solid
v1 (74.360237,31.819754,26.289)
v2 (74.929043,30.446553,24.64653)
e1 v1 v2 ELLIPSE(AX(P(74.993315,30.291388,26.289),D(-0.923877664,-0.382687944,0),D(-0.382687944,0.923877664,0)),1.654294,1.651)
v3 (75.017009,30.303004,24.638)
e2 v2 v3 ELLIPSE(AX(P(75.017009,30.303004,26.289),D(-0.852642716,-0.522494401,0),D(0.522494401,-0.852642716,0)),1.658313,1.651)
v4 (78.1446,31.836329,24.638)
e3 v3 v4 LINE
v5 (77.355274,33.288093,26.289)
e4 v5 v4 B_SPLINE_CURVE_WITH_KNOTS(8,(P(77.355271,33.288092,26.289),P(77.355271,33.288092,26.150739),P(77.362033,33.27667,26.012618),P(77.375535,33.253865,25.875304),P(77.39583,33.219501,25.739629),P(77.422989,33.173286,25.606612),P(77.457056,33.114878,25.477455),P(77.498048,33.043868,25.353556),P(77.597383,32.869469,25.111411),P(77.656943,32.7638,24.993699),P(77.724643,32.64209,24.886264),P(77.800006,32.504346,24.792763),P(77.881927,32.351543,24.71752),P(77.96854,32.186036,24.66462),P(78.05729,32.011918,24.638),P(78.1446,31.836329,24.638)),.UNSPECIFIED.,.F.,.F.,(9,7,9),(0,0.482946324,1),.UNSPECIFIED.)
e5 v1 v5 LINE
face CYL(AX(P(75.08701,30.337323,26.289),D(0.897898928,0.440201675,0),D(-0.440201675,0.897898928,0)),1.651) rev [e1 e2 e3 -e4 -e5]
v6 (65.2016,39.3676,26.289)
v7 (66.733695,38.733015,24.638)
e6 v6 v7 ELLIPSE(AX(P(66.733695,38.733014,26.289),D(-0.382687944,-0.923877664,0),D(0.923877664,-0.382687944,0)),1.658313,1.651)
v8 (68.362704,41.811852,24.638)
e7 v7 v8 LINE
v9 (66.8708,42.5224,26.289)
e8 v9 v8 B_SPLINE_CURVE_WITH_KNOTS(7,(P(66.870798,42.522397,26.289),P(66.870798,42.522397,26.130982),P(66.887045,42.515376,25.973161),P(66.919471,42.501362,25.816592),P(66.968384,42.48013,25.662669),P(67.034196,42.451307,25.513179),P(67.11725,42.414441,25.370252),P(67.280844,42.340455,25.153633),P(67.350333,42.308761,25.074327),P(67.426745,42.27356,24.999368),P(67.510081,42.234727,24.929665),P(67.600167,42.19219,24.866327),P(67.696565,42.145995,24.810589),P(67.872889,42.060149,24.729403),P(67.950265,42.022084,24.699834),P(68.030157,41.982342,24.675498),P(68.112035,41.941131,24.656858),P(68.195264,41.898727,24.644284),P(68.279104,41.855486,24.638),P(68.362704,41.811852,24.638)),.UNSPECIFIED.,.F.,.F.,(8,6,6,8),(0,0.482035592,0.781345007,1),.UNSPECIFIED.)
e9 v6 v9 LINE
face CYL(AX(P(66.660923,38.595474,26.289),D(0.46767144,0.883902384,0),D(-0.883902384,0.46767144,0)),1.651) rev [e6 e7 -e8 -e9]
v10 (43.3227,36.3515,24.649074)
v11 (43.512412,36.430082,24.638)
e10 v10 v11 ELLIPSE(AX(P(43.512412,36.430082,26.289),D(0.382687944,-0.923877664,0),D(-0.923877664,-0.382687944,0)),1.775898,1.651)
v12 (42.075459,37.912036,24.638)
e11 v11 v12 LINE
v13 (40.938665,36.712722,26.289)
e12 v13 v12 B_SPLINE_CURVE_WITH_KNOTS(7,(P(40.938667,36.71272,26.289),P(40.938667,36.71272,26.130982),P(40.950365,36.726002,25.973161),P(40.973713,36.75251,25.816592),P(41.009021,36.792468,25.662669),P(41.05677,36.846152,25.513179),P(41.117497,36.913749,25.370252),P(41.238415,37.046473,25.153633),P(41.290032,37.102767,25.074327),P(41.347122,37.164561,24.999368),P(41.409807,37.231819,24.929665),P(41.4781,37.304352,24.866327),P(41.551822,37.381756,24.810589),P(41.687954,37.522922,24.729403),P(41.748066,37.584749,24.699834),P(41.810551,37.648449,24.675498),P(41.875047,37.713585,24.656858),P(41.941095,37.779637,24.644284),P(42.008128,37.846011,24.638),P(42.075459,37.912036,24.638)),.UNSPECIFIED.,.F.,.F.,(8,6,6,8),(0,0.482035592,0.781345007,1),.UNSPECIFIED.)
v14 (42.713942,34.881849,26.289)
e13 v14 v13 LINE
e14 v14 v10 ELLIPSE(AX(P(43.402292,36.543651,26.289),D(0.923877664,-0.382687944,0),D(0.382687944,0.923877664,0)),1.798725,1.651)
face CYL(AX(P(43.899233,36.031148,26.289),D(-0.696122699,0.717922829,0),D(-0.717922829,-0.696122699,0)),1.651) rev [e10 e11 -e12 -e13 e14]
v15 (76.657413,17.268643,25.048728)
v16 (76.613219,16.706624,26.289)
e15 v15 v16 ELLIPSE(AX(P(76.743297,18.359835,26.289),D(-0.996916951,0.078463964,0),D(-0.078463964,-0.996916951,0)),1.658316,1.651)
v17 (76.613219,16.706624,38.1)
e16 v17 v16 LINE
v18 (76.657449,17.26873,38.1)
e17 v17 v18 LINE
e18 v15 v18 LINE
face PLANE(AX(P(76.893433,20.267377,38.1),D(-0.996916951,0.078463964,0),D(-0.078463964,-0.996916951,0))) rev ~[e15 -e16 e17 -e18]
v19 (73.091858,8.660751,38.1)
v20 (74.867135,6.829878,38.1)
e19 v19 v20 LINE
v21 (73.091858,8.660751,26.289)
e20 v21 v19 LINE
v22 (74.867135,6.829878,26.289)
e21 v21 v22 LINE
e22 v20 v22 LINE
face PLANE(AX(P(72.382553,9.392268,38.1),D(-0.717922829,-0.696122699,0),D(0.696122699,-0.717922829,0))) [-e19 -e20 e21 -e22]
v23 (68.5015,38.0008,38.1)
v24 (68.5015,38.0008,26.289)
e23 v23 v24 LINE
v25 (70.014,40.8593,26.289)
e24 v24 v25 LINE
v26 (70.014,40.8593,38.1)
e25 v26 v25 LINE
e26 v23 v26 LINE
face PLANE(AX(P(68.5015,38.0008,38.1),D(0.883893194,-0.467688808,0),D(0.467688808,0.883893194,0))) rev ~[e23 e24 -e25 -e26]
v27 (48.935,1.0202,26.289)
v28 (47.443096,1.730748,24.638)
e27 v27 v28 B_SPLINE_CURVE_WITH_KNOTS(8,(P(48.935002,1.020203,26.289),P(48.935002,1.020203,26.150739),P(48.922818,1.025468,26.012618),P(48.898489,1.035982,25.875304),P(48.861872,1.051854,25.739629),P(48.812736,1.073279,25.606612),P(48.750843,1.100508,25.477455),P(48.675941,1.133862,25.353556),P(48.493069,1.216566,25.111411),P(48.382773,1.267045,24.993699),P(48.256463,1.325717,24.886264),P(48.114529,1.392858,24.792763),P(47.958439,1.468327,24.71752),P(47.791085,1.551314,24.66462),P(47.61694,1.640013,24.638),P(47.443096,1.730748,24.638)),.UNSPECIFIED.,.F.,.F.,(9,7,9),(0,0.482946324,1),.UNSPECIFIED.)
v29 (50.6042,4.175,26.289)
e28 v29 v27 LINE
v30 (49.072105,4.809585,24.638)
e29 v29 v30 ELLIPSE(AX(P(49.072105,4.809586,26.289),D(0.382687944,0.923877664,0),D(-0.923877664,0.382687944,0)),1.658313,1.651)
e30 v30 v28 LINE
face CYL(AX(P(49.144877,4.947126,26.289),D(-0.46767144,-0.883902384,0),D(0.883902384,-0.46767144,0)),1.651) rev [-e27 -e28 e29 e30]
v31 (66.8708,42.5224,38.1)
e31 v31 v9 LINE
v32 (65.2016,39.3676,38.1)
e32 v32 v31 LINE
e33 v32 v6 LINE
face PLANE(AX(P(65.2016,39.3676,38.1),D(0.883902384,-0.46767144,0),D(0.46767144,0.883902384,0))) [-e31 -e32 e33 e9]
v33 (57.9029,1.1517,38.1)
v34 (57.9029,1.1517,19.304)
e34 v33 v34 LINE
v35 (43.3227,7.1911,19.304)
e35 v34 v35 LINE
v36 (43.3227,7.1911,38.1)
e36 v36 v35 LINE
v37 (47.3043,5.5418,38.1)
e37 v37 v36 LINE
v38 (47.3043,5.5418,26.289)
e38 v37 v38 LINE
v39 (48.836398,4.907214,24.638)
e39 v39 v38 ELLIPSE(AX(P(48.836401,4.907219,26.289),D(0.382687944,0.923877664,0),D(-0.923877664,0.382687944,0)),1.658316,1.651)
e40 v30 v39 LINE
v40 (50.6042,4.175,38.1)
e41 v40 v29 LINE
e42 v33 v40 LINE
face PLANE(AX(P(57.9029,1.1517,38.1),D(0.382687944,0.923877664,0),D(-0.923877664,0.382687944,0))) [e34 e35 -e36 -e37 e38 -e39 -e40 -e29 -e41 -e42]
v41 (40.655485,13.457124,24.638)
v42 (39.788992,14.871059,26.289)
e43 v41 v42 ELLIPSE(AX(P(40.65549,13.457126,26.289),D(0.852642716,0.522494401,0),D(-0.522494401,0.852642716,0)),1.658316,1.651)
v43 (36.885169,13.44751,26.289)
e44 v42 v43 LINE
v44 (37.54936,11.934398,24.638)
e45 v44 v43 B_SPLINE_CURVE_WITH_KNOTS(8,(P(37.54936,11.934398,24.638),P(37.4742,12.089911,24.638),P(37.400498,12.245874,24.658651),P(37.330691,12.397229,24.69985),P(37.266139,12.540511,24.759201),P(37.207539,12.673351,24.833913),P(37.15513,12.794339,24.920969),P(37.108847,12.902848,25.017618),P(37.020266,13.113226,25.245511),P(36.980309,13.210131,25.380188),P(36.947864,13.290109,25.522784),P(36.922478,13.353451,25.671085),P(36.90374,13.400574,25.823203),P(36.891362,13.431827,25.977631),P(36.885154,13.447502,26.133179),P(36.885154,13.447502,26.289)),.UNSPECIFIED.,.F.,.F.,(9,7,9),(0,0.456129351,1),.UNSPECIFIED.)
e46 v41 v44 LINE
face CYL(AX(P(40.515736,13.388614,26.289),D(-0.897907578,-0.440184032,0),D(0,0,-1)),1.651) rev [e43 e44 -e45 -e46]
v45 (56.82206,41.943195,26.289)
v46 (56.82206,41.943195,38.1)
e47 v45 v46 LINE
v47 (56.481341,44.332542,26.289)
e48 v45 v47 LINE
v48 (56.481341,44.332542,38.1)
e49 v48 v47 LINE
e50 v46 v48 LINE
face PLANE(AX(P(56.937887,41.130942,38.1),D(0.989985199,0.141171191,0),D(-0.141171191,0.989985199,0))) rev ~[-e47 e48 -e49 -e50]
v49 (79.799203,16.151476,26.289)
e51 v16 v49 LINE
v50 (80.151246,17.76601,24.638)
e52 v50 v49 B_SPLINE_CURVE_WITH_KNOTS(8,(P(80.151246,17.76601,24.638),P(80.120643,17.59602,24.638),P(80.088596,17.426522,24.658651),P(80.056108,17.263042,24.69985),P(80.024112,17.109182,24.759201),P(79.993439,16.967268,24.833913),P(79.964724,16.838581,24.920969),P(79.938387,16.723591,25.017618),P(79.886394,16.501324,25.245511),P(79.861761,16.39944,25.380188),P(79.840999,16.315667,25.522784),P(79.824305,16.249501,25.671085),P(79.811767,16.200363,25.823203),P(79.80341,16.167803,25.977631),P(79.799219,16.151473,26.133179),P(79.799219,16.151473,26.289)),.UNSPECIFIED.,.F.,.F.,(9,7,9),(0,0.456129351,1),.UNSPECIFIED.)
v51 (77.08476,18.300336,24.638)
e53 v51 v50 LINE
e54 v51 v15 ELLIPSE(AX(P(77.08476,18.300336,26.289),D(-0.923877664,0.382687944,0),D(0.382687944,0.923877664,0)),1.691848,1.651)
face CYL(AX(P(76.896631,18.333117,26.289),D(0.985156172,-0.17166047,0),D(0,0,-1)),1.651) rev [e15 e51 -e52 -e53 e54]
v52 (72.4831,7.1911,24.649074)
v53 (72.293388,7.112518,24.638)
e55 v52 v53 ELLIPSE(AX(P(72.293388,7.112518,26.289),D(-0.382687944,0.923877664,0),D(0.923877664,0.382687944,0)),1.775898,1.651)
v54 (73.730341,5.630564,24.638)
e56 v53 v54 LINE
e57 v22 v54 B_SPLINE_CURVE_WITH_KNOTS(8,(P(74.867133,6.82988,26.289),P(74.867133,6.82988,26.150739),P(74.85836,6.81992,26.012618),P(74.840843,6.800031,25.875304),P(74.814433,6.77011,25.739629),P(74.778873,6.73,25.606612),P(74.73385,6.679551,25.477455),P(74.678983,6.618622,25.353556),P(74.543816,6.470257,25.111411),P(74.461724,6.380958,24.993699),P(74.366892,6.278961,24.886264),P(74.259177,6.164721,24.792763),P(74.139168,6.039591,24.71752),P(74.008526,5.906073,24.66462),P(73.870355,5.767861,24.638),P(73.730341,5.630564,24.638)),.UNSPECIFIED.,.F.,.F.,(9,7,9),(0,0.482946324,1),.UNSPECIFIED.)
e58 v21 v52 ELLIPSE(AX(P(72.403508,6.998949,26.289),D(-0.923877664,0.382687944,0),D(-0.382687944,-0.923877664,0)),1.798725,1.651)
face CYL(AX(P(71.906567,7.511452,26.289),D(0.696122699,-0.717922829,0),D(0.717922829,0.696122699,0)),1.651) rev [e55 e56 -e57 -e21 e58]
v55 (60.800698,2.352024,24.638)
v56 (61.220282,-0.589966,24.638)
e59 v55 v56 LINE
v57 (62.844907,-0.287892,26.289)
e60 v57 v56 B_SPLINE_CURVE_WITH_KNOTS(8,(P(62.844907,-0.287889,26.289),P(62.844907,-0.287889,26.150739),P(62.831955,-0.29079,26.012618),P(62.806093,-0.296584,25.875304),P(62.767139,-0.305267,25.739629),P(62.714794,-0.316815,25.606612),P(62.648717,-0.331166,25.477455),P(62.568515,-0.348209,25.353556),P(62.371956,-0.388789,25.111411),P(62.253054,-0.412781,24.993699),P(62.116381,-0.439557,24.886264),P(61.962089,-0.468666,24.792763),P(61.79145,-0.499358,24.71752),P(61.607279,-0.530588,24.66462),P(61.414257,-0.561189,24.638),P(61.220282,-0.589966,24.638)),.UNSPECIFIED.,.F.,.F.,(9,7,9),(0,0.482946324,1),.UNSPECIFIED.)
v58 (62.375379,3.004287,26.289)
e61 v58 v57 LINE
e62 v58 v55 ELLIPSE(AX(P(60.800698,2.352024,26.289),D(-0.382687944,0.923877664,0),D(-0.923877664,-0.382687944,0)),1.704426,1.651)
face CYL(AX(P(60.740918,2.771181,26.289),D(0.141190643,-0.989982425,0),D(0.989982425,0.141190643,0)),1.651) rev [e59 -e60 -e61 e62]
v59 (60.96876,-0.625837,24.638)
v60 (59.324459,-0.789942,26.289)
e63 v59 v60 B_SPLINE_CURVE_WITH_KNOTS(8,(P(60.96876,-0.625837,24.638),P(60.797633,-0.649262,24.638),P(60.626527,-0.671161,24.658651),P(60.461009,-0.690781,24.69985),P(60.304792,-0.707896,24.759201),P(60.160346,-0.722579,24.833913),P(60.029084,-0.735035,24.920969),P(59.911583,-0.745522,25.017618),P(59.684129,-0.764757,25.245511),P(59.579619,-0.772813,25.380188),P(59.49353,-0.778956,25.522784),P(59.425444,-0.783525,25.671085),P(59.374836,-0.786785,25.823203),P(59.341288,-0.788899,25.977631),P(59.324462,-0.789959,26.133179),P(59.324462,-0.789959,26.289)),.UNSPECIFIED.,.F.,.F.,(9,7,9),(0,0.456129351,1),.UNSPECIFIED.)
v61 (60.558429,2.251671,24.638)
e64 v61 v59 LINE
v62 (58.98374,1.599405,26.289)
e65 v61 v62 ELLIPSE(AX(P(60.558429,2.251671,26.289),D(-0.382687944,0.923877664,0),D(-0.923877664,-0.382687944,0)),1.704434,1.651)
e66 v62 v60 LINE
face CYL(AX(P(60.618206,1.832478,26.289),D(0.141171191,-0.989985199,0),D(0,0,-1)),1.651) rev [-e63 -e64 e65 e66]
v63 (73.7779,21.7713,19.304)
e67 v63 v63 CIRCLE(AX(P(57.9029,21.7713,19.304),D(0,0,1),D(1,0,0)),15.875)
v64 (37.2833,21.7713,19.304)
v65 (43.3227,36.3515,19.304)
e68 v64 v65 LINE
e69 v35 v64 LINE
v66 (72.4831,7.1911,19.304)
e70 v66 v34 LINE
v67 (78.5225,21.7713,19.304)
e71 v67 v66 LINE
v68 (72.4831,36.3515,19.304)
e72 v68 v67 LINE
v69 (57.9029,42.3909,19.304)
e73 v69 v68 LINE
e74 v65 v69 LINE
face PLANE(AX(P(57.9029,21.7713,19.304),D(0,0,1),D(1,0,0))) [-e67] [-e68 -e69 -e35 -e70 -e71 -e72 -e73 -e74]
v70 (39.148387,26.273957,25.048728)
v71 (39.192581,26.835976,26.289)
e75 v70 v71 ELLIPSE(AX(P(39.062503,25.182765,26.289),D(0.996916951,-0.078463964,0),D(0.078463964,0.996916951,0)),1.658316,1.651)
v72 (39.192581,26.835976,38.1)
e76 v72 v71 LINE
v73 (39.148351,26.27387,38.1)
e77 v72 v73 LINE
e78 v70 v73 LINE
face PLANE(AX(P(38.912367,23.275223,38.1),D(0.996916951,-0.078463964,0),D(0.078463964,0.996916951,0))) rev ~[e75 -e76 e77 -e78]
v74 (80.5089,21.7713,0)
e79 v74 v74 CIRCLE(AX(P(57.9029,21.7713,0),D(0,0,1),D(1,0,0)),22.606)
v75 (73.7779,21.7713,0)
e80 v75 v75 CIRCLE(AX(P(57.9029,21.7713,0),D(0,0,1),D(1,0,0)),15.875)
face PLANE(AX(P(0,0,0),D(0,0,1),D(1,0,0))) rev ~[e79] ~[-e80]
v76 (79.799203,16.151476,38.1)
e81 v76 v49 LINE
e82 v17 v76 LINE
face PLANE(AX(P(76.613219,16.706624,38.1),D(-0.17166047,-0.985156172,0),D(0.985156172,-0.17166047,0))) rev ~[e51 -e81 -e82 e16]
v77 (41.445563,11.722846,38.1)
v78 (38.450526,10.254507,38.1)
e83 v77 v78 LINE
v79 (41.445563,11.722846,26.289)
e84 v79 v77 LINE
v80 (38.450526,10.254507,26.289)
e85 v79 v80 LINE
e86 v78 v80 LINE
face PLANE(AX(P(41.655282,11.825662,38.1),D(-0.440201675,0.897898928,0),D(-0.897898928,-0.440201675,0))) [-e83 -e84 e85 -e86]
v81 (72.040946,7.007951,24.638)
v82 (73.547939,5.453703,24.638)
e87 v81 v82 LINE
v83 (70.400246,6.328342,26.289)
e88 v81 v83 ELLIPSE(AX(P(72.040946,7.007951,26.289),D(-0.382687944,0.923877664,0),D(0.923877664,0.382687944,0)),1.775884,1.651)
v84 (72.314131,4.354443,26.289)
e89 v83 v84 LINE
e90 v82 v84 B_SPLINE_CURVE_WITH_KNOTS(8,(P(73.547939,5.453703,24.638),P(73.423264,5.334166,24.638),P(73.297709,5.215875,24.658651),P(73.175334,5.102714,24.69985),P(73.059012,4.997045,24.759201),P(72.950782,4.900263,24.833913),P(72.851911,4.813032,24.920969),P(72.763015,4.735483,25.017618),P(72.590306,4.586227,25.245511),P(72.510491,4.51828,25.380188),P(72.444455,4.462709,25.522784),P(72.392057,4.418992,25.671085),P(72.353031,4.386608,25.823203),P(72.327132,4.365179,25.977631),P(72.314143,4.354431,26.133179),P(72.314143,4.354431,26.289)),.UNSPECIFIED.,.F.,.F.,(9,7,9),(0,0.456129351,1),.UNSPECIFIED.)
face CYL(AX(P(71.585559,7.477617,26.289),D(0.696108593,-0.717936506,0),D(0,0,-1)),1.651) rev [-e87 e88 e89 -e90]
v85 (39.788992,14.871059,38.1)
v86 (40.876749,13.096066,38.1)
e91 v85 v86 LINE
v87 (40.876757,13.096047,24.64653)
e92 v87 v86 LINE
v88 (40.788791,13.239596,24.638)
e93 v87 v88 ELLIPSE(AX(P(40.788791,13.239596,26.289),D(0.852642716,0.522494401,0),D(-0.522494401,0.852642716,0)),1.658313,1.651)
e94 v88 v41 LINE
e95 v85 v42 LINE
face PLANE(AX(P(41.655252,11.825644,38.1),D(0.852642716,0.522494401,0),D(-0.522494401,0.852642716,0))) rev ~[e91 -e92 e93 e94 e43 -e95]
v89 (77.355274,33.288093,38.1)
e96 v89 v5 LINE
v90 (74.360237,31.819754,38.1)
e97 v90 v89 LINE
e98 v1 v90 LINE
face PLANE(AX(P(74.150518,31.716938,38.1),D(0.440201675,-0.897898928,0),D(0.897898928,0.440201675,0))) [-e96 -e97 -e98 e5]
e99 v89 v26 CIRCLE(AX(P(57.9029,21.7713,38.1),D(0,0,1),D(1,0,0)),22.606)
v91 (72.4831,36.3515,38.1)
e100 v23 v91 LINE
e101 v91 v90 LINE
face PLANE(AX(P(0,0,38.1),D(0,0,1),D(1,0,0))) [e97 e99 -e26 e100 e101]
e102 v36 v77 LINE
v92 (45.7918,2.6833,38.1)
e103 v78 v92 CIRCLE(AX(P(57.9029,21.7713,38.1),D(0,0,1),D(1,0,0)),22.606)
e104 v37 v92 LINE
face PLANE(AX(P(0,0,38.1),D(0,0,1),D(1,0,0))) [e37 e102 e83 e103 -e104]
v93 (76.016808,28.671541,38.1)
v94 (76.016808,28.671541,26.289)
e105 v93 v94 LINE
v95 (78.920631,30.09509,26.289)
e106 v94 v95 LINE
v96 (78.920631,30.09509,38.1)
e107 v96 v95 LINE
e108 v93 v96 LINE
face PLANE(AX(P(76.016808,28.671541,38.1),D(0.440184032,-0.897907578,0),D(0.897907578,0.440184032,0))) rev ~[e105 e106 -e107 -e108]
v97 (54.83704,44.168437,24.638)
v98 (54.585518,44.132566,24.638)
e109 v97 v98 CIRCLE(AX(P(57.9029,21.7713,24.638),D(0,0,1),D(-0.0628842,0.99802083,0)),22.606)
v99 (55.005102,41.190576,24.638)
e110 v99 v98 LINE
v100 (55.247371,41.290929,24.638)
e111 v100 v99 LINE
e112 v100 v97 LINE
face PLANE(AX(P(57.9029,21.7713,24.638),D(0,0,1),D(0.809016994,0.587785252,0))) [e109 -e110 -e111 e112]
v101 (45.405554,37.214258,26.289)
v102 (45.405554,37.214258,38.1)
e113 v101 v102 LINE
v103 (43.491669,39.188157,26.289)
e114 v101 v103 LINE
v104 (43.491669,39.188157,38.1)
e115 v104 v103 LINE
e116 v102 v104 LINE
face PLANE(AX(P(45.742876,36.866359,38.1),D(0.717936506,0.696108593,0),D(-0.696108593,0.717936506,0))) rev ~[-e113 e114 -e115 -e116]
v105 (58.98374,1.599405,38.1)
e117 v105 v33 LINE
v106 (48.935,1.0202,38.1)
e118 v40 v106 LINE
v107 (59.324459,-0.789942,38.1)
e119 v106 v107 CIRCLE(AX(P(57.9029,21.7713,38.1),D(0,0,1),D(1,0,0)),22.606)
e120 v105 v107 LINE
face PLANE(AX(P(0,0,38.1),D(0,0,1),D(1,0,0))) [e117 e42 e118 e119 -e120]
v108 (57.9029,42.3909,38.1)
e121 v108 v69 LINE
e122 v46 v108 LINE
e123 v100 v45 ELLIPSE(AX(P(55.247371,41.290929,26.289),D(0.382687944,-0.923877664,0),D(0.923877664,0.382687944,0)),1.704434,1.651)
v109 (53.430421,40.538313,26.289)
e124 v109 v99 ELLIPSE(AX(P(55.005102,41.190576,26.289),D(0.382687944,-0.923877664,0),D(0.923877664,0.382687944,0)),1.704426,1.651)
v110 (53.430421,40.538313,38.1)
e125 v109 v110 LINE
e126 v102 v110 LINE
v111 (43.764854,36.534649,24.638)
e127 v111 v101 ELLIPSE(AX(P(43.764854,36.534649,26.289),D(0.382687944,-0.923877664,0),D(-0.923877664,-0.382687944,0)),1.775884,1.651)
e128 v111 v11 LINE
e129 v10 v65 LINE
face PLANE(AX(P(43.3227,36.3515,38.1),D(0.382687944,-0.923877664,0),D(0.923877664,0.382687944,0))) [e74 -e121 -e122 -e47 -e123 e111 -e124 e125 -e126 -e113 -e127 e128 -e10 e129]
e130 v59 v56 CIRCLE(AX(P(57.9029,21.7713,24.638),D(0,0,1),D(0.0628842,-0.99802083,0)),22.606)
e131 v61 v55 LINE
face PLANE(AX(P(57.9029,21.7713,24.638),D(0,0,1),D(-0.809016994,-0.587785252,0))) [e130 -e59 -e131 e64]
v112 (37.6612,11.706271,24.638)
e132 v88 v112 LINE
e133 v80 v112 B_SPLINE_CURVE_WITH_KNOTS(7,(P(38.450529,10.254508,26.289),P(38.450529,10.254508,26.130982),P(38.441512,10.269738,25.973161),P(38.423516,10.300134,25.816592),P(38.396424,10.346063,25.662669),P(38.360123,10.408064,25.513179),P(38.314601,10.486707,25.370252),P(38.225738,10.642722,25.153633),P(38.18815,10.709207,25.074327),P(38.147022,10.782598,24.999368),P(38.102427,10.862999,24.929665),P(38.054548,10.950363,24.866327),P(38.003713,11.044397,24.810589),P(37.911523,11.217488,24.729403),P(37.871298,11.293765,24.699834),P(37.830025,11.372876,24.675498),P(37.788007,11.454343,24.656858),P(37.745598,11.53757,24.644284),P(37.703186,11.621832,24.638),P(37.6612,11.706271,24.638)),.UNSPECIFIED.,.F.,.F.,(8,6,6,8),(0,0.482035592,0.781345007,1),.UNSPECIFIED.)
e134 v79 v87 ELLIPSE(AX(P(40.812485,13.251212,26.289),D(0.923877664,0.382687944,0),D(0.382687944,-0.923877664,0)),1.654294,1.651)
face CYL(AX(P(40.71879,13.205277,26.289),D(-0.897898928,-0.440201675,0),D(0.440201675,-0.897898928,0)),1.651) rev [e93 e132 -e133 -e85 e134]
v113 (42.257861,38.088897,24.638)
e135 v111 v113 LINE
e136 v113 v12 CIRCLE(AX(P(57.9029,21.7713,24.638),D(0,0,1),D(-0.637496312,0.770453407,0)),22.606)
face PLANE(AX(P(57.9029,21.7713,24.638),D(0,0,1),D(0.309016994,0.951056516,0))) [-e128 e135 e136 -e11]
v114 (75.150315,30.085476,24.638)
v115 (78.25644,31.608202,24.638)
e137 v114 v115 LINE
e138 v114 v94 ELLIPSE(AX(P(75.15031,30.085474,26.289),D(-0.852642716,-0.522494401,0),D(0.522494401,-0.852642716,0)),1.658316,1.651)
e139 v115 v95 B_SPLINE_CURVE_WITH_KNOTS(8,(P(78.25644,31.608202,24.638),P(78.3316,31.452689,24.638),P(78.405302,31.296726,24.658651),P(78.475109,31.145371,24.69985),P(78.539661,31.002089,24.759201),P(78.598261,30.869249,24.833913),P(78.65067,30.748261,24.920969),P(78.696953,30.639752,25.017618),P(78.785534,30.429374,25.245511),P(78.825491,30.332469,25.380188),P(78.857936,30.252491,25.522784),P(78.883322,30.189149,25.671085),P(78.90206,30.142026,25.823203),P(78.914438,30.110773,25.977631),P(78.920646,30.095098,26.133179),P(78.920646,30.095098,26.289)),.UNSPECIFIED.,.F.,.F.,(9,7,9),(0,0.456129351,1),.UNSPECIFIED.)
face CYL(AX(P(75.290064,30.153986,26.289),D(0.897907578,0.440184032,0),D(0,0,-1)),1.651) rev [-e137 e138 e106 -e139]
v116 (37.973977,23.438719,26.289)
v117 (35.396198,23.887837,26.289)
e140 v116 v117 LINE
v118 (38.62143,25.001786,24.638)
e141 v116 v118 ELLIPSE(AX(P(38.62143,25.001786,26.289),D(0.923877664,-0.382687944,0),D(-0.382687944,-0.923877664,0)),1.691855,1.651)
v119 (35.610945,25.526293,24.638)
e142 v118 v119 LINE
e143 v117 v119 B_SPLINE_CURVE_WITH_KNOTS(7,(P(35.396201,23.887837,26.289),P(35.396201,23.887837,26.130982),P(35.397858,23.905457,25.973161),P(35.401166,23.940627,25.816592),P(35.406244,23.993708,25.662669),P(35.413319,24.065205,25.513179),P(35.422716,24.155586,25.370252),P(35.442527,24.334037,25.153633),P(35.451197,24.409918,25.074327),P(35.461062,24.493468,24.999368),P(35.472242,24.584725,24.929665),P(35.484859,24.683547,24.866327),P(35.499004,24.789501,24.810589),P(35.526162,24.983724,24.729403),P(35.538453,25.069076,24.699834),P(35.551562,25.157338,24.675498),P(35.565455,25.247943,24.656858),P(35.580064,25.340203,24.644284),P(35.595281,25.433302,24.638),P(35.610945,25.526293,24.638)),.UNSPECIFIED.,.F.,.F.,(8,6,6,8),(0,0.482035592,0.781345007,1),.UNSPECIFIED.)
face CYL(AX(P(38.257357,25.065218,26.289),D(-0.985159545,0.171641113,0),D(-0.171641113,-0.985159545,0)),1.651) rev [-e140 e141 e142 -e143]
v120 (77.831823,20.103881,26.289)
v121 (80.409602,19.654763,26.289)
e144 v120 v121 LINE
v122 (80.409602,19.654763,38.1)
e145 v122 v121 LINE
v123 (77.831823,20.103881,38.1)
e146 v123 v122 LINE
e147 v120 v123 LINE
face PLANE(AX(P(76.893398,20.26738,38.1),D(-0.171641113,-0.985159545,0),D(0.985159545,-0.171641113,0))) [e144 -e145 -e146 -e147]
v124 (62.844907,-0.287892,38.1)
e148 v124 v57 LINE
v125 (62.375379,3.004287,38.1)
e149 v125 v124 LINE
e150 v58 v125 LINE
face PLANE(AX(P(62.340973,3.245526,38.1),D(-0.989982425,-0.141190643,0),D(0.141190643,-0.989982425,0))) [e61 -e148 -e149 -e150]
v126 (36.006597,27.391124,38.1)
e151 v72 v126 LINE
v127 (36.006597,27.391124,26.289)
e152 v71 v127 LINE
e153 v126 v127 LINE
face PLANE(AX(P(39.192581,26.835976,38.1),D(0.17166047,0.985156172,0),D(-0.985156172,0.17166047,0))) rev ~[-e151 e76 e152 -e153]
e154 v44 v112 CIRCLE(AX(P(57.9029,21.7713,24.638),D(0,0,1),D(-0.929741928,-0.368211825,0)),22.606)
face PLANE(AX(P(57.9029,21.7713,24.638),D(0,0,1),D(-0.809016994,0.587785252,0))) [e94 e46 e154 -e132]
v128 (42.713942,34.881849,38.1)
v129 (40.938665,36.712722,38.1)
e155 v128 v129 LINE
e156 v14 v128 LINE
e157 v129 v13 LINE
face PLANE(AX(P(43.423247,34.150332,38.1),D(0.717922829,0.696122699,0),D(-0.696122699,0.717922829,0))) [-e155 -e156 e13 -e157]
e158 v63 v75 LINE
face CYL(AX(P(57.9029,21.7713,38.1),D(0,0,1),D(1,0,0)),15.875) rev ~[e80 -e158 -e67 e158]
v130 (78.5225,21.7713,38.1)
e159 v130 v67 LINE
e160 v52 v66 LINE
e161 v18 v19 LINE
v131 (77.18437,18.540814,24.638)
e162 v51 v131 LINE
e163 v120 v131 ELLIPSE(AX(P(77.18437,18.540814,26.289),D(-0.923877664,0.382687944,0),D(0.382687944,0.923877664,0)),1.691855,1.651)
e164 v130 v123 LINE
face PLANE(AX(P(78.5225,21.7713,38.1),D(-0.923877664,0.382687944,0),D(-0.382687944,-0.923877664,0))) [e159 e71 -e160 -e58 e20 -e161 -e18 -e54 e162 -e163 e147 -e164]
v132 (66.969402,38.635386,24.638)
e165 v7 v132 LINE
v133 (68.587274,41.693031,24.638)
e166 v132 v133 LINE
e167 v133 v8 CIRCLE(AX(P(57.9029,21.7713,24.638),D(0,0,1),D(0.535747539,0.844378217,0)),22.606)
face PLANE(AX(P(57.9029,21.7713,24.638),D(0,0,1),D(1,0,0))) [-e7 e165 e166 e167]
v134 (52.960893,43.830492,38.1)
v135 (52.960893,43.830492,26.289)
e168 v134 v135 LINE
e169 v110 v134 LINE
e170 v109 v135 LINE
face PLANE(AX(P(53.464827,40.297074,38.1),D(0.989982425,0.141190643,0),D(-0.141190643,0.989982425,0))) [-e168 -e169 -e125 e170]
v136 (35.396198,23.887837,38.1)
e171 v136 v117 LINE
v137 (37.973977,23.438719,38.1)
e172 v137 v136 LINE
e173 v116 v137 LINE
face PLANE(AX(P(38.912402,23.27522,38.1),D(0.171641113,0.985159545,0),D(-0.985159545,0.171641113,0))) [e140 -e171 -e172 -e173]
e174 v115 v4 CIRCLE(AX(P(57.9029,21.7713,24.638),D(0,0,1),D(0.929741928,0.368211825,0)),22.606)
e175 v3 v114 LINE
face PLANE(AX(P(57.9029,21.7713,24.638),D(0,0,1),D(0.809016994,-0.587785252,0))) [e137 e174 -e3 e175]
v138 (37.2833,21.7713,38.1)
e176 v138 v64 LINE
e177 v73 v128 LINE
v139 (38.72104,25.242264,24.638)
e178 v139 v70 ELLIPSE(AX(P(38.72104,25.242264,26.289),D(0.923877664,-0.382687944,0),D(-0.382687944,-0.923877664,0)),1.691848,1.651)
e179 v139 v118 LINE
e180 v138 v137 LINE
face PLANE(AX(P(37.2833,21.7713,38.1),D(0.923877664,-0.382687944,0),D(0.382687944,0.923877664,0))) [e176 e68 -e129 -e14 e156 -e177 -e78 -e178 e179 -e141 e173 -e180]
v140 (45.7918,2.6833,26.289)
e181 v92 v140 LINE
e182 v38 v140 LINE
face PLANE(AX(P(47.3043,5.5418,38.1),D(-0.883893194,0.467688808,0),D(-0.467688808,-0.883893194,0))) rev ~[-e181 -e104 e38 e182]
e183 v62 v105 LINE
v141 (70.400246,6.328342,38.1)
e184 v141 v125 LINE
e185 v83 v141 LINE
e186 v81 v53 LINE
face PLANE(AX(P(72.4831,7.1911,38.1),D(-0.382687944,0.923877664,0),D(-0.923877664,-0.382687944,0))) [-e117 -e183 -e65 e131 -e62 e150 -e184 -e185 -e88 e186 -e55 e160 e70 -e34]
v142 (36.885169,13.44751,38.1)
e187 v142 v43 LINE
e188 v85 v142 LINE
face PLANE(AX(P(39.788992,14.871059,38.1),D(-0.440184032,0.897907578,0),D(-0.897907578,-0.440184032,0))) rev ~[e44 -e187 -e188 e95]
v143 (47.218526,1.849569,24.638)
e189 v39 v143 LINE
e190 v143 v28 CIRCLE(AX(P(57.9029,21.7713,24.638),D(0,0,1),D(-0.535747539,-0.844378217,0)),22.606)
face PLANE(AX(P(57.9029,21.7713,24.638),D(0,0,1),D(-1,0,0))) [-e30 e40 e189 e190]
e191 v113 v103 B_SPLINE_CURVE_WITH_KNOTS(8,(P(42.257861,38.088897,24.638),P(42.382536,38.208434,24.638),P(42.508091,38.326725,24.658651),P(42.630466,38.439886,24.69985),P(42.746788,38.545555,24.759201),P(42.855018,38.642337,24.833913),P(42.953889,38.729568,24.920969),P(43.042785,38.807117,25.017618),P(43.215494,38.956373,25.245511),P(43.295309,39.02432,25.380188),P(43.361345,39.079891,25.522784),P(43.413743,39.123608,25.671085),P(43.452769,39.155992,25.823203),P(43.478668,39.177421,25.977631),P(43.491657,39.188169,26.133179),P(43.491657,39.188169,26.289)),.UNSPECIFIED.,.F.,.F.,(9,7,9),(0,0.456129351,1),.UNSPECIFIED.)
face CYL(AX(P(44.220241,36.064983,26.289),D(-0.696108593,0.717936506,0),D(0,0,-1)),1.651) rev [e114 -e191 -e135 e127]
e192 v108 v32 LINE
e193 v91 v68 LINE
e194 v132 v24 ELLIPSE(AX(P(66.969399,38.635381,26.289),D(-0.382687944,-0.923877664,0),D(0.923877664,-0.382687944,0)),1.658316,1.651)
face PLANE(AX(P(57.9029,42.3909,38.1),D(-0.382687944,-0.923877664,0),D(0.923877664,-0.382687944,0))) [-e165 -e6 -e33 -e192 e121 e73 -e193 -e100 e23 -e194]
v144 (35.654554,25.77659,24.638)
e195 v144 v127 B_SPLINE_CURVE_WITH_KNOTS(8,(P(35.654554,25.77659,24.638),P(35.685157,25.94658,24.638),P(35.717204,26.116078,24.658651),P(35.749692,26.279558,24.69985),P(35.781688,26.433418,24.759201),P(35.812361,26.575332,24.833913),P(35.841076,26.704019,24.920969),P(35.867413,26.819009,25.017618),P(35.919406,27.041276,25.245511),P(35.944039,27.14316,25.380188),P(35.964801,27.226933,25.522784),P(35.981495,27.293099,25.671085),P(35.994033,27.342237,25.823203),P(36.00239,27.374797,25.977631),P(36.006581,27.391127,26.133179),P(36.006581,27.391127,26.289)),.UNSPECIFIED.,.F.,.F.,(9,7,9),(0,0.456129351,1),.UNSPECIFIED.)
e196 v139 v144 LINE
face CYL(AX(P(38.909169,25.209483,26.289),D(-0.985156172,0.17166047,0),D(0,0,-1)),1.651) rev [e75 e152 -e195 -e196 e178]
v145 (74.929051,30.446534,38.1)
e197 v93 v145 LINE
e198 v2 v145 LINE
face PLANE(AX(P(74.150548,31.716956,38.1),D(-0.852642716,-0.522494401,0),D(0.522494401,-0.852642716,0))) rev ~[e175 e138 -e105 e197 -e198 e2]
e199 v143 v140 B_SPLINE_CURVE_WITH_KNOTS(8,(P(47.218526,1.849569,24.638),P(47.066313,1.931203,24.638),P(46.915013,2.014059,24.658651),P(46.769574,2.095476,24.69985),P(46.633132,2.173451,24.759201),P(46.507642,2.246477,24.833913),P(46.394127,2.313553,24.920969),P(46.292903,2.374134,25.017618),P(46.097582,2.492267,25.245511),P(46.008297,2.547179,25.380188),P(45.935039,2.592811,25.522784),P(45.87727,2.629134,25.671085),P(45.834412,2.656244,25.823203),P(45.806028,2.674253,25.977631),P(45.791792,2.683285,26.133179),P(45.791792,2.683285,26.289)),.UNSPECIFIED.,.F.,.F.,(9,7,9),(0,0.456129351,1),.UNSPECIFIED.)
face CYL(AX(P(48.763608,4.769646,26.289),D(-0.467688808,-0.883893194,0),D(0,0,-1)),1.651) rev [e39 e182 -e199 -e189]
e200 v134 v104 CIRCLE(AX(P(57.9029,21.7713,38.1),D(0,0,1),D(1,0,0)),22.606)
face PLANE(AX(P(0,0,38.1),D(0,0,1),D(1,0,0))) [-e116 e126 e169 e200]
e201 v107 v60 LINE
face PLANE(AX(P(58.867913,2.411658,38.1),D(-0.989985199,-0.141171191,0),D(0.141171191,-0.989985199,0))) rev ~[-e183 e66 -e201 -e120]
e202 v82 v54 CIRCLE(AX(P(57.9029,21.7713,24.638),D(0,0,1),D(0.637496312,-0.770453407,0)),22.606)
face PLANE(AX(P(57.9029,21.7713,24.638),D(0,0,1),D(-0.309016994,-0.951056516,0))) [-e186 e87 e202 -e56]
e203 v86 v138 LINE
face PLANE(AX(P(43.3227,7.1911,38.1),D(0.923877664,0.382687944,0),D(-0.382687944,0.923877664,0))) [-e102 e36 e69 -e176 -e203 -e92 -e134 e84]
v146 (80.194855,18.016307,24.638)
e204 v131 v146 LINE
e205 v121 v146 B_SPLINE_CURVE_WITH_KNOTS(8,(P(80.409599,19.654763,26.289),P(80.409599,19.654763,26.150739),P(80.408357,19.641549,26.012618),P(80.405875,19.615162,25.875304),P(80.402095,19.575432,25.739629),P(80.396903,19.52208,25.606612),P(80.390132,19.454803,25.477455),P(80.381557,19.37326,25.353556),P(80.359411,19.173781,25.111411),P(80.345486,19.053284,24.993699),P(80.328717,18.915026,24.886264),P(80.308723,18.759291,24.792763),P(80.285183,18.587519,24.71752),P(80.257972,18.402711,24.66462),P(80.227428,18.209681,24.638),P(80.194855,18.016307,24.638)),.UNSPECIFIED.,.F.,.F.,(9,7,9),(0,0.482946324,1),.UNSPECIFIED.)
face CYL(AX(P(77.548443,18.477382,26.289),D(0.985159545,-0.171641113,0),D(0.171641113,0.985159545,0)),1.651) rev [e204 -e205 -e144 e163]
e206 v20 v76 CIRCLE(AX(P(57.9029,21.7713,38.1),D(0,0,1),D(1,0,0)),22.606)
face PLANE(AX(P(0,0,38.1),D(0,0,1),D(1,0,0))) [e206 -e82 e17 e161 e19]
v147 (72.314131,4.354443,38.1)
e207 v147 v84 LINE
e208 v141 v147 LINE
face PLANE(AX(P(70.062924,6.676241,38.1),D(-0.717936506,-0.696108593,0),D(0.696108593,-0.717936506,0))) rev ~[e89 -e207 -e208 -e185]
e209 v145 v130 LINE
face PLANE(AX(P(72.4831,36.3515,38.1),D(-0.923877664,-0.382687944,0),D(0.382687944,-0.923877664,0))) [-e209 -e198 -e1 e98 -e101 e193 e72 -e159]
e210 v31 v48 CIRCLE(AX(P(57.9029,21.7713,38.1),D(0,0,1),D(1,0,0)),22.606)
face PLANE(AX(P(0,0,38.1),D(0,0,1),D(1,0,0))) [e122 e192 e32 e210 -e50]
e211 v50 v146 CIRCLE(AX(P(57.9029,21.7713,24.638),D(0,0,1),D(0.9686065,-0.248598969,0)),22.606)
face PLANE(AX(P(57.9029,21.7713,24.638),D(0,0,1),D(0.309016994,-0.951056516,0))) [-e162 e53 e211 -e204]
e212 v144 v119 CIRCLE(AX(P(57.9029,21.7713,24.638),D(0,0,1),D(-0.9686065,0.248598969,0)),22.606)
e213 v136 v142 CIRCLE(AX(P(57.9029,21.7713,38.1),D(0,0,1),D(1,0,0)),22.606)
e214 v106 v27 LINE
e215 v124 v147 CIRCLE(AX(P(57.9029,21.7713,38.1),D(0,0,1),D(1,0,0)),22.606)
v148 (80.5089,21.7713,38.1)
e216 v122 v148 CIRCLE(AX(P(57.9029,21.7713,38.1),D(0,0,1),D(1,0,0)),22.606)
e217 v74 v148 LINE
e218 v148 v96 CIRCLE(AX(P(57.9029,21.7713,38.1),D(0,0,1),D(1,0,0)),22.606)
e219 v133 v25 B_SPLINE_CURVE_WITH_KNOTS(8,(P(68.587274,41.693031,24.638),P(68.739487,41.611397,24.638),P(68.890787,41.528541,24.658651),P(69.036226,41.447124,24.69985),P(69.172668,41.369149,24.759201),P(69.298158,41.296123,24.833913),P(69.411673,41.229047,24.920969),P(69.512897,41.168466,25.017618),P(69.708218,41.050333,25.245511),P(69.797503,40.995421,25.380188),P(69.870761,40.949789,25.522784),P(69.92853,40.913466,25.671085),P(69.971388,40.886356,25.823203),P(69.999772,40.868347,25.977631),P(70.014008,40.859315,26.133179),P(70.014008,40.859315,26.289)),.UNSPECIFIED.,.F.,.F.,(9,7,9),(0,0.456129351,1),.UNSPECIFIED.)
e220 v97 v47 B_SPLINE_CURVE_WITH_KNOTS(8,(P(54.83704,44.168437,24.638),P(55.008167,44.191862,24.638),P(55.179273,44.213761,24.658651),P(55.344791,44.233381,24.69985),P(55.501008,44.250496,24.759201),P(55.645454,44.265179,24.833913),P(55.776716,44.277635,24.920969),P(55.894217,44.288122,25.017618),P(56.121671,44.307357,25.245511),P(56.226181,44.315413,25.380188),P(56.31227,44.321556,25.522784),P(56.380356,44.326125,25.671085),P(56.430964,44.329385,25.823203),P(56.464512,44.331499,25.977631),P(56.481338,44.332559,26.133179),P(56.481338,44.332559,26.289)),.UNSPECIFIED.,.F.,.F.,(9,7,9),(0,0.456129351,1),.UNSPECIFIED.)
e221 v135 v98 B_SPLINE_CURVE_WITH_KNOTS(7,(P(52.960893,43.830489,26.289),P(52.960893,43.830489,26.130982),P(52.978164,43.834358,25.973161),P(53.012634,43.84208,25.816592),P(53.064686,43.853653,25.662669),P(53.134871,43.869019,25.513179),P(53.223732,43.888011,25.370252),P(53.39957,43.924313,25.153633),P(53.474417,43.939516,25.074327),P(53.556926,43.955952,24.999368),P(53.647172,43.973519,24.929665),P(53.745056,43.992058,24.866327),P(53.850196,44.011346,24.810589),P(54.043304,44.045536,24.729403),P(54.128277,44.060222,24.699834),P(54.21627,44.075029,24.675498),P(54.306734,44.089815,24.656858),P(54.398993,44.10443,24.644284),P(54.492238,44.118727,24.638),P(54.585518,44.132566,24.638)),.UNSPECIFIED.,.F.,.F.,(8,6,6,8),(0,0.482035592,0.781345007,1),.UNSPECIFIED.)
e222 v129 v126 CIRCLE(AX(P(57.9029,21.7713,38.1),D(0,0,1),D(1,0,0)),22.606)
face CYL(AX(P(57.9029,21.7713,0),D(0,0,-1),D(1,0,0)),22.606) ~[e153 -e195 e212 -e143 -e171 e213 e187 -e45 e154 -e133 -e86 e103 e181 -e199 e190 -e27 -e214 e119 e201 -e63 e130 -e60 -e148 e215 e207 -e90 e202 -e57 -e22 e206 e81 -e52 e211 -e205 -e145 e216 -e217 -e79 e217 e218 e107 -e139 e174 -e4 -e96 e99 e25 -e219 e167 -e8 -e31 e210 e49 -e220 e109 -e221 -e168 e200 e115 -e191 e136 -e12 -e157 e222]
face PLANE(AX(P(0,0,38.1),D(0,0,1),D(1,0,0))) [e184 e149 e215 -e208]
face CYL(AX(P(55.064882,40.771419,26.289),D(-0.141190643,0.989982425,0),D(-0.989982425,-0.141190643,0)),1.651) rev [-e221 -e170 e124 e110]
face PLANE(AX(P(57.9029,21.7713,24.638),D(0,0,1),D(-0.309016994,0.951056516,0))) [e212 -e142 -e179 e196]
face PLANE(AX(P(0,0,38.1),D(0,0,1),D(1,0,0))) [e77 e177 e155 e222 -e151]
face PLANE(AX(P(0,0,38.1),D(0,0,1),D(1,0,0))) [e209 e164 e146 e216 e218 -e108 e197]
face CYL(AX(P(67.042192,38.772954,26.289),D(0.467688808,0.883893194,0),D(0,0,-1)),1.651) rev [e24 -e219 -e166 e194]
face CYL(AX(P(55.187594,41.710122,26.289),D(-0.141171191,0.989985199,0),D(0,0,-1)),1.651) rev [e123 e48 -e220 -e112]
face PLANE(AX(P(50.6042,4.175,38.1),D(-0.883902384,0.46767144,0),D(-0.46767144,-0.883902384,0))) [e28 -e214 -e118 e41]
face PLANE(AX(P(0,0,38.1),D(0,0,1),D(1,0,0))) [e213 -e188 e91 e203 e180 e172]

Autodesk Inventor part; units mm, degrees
ref_plane "YZ Plane" through (0, 0, 0) normal (1, 0, 0) x (0, 1, 0)
ref_plane "XZ Plane" through (0, 0, 0) normal (0, 1, 0) x (-1, 0, 0)
ref_plane "XY Plane" through (0, 0, 0) normal (0, 0, 1) x (1, 0, 0)
sketch "Sketch1" plane through (0, 0, 0) normal (0, 0, 1) x (1, 0, 0)
  circle A0 centre (57.9029, 21.7713) radius 22.606
  dimension "d0" = 45.212
extrude "Extrusion1" add sketch "Sketch1" along normal blind 38.1
sketch "Sketch2" plane through (57.9029, 21.7713, 38.1) normal (0, 0, 1) x (1, 0, 0)
  circle A0 centre (0, 0) radius 22.606 projected
  circle A1 centre (0, 0) radius 15.875
  dimension "d3" = 31.75
extrude "Extrusion2" cut sketch "Sketch2" against normal blind 38.1 contours A1
sketch "Sketch3" plane through (57.9029, 21.7713, 38.1) normal (0, 0, 1) x (1, 0, 0)
  circle A0 centre (0, 0) radius 15.875 projected
  circle A1 centre (0, 0) radius 22.606 projected
  line L0 (-20.6196, 0) -> (-14.5802, 14.5802)
  line L1 (-14.5802, 14.5802) -> (0, 20.6196)
  line L2 (0, 20.6196) -> (14.5802, 14.5802)
  line L3 (14.5802, 14.5802) -> (20.6196, 0)
  line L4 (20.6196, 0) -> (14.5802, -14.5802)
  line L5 (14.5802, -14.5802) -> (0, -20.6196)
  line L6 (0, -20.6196) -> (-14.5802, -14.5802)
  line L7 (-14.5802, -14.5802) -> (-20.6196, 0)
  dimension "d6" = 38.1
extrude "Extrusion3" cut sketch "Sketch3" against normal blind 18.796 contours L0 L1 L2 L3 L4 L5 L6 L7
sketch "Sketch4" plane through (57.9029, 21.7713, 38.1) normal (0, 0, 1) x (1, 0, 0)
  line L0 (0, 20.6196) -> (14.5802, 14.5802) projected
  circle A0 centre (0, 0) radius 22.606 projected
  line L1 (0, 0) -> (15.2644, 28.8495)
  line L2 (7.2987, 17.5963) -> (8.9679, 20.7511)
  line L3 (10.5986, 16.2295) -> (12.1111, 19.088)
  dimension "d9" = 3.556
extrude "Extrusion4" cut sketch "Sketch4" against normal blind 13.462 contours L2 A0 L1 L0 | L1 A0 L3 L0
fillet "Fillet1" radius 1.651 2 edges at (69.2577, 39.4301, 24.638) (66.0362, 40.945, 24.638)
pattern_circular "Circular Pattern1" count 10 over 360 about axis through (57.9029, 21.7713, 0) along (0, 0, 1) of "Extrusion4", "Fillet1"
